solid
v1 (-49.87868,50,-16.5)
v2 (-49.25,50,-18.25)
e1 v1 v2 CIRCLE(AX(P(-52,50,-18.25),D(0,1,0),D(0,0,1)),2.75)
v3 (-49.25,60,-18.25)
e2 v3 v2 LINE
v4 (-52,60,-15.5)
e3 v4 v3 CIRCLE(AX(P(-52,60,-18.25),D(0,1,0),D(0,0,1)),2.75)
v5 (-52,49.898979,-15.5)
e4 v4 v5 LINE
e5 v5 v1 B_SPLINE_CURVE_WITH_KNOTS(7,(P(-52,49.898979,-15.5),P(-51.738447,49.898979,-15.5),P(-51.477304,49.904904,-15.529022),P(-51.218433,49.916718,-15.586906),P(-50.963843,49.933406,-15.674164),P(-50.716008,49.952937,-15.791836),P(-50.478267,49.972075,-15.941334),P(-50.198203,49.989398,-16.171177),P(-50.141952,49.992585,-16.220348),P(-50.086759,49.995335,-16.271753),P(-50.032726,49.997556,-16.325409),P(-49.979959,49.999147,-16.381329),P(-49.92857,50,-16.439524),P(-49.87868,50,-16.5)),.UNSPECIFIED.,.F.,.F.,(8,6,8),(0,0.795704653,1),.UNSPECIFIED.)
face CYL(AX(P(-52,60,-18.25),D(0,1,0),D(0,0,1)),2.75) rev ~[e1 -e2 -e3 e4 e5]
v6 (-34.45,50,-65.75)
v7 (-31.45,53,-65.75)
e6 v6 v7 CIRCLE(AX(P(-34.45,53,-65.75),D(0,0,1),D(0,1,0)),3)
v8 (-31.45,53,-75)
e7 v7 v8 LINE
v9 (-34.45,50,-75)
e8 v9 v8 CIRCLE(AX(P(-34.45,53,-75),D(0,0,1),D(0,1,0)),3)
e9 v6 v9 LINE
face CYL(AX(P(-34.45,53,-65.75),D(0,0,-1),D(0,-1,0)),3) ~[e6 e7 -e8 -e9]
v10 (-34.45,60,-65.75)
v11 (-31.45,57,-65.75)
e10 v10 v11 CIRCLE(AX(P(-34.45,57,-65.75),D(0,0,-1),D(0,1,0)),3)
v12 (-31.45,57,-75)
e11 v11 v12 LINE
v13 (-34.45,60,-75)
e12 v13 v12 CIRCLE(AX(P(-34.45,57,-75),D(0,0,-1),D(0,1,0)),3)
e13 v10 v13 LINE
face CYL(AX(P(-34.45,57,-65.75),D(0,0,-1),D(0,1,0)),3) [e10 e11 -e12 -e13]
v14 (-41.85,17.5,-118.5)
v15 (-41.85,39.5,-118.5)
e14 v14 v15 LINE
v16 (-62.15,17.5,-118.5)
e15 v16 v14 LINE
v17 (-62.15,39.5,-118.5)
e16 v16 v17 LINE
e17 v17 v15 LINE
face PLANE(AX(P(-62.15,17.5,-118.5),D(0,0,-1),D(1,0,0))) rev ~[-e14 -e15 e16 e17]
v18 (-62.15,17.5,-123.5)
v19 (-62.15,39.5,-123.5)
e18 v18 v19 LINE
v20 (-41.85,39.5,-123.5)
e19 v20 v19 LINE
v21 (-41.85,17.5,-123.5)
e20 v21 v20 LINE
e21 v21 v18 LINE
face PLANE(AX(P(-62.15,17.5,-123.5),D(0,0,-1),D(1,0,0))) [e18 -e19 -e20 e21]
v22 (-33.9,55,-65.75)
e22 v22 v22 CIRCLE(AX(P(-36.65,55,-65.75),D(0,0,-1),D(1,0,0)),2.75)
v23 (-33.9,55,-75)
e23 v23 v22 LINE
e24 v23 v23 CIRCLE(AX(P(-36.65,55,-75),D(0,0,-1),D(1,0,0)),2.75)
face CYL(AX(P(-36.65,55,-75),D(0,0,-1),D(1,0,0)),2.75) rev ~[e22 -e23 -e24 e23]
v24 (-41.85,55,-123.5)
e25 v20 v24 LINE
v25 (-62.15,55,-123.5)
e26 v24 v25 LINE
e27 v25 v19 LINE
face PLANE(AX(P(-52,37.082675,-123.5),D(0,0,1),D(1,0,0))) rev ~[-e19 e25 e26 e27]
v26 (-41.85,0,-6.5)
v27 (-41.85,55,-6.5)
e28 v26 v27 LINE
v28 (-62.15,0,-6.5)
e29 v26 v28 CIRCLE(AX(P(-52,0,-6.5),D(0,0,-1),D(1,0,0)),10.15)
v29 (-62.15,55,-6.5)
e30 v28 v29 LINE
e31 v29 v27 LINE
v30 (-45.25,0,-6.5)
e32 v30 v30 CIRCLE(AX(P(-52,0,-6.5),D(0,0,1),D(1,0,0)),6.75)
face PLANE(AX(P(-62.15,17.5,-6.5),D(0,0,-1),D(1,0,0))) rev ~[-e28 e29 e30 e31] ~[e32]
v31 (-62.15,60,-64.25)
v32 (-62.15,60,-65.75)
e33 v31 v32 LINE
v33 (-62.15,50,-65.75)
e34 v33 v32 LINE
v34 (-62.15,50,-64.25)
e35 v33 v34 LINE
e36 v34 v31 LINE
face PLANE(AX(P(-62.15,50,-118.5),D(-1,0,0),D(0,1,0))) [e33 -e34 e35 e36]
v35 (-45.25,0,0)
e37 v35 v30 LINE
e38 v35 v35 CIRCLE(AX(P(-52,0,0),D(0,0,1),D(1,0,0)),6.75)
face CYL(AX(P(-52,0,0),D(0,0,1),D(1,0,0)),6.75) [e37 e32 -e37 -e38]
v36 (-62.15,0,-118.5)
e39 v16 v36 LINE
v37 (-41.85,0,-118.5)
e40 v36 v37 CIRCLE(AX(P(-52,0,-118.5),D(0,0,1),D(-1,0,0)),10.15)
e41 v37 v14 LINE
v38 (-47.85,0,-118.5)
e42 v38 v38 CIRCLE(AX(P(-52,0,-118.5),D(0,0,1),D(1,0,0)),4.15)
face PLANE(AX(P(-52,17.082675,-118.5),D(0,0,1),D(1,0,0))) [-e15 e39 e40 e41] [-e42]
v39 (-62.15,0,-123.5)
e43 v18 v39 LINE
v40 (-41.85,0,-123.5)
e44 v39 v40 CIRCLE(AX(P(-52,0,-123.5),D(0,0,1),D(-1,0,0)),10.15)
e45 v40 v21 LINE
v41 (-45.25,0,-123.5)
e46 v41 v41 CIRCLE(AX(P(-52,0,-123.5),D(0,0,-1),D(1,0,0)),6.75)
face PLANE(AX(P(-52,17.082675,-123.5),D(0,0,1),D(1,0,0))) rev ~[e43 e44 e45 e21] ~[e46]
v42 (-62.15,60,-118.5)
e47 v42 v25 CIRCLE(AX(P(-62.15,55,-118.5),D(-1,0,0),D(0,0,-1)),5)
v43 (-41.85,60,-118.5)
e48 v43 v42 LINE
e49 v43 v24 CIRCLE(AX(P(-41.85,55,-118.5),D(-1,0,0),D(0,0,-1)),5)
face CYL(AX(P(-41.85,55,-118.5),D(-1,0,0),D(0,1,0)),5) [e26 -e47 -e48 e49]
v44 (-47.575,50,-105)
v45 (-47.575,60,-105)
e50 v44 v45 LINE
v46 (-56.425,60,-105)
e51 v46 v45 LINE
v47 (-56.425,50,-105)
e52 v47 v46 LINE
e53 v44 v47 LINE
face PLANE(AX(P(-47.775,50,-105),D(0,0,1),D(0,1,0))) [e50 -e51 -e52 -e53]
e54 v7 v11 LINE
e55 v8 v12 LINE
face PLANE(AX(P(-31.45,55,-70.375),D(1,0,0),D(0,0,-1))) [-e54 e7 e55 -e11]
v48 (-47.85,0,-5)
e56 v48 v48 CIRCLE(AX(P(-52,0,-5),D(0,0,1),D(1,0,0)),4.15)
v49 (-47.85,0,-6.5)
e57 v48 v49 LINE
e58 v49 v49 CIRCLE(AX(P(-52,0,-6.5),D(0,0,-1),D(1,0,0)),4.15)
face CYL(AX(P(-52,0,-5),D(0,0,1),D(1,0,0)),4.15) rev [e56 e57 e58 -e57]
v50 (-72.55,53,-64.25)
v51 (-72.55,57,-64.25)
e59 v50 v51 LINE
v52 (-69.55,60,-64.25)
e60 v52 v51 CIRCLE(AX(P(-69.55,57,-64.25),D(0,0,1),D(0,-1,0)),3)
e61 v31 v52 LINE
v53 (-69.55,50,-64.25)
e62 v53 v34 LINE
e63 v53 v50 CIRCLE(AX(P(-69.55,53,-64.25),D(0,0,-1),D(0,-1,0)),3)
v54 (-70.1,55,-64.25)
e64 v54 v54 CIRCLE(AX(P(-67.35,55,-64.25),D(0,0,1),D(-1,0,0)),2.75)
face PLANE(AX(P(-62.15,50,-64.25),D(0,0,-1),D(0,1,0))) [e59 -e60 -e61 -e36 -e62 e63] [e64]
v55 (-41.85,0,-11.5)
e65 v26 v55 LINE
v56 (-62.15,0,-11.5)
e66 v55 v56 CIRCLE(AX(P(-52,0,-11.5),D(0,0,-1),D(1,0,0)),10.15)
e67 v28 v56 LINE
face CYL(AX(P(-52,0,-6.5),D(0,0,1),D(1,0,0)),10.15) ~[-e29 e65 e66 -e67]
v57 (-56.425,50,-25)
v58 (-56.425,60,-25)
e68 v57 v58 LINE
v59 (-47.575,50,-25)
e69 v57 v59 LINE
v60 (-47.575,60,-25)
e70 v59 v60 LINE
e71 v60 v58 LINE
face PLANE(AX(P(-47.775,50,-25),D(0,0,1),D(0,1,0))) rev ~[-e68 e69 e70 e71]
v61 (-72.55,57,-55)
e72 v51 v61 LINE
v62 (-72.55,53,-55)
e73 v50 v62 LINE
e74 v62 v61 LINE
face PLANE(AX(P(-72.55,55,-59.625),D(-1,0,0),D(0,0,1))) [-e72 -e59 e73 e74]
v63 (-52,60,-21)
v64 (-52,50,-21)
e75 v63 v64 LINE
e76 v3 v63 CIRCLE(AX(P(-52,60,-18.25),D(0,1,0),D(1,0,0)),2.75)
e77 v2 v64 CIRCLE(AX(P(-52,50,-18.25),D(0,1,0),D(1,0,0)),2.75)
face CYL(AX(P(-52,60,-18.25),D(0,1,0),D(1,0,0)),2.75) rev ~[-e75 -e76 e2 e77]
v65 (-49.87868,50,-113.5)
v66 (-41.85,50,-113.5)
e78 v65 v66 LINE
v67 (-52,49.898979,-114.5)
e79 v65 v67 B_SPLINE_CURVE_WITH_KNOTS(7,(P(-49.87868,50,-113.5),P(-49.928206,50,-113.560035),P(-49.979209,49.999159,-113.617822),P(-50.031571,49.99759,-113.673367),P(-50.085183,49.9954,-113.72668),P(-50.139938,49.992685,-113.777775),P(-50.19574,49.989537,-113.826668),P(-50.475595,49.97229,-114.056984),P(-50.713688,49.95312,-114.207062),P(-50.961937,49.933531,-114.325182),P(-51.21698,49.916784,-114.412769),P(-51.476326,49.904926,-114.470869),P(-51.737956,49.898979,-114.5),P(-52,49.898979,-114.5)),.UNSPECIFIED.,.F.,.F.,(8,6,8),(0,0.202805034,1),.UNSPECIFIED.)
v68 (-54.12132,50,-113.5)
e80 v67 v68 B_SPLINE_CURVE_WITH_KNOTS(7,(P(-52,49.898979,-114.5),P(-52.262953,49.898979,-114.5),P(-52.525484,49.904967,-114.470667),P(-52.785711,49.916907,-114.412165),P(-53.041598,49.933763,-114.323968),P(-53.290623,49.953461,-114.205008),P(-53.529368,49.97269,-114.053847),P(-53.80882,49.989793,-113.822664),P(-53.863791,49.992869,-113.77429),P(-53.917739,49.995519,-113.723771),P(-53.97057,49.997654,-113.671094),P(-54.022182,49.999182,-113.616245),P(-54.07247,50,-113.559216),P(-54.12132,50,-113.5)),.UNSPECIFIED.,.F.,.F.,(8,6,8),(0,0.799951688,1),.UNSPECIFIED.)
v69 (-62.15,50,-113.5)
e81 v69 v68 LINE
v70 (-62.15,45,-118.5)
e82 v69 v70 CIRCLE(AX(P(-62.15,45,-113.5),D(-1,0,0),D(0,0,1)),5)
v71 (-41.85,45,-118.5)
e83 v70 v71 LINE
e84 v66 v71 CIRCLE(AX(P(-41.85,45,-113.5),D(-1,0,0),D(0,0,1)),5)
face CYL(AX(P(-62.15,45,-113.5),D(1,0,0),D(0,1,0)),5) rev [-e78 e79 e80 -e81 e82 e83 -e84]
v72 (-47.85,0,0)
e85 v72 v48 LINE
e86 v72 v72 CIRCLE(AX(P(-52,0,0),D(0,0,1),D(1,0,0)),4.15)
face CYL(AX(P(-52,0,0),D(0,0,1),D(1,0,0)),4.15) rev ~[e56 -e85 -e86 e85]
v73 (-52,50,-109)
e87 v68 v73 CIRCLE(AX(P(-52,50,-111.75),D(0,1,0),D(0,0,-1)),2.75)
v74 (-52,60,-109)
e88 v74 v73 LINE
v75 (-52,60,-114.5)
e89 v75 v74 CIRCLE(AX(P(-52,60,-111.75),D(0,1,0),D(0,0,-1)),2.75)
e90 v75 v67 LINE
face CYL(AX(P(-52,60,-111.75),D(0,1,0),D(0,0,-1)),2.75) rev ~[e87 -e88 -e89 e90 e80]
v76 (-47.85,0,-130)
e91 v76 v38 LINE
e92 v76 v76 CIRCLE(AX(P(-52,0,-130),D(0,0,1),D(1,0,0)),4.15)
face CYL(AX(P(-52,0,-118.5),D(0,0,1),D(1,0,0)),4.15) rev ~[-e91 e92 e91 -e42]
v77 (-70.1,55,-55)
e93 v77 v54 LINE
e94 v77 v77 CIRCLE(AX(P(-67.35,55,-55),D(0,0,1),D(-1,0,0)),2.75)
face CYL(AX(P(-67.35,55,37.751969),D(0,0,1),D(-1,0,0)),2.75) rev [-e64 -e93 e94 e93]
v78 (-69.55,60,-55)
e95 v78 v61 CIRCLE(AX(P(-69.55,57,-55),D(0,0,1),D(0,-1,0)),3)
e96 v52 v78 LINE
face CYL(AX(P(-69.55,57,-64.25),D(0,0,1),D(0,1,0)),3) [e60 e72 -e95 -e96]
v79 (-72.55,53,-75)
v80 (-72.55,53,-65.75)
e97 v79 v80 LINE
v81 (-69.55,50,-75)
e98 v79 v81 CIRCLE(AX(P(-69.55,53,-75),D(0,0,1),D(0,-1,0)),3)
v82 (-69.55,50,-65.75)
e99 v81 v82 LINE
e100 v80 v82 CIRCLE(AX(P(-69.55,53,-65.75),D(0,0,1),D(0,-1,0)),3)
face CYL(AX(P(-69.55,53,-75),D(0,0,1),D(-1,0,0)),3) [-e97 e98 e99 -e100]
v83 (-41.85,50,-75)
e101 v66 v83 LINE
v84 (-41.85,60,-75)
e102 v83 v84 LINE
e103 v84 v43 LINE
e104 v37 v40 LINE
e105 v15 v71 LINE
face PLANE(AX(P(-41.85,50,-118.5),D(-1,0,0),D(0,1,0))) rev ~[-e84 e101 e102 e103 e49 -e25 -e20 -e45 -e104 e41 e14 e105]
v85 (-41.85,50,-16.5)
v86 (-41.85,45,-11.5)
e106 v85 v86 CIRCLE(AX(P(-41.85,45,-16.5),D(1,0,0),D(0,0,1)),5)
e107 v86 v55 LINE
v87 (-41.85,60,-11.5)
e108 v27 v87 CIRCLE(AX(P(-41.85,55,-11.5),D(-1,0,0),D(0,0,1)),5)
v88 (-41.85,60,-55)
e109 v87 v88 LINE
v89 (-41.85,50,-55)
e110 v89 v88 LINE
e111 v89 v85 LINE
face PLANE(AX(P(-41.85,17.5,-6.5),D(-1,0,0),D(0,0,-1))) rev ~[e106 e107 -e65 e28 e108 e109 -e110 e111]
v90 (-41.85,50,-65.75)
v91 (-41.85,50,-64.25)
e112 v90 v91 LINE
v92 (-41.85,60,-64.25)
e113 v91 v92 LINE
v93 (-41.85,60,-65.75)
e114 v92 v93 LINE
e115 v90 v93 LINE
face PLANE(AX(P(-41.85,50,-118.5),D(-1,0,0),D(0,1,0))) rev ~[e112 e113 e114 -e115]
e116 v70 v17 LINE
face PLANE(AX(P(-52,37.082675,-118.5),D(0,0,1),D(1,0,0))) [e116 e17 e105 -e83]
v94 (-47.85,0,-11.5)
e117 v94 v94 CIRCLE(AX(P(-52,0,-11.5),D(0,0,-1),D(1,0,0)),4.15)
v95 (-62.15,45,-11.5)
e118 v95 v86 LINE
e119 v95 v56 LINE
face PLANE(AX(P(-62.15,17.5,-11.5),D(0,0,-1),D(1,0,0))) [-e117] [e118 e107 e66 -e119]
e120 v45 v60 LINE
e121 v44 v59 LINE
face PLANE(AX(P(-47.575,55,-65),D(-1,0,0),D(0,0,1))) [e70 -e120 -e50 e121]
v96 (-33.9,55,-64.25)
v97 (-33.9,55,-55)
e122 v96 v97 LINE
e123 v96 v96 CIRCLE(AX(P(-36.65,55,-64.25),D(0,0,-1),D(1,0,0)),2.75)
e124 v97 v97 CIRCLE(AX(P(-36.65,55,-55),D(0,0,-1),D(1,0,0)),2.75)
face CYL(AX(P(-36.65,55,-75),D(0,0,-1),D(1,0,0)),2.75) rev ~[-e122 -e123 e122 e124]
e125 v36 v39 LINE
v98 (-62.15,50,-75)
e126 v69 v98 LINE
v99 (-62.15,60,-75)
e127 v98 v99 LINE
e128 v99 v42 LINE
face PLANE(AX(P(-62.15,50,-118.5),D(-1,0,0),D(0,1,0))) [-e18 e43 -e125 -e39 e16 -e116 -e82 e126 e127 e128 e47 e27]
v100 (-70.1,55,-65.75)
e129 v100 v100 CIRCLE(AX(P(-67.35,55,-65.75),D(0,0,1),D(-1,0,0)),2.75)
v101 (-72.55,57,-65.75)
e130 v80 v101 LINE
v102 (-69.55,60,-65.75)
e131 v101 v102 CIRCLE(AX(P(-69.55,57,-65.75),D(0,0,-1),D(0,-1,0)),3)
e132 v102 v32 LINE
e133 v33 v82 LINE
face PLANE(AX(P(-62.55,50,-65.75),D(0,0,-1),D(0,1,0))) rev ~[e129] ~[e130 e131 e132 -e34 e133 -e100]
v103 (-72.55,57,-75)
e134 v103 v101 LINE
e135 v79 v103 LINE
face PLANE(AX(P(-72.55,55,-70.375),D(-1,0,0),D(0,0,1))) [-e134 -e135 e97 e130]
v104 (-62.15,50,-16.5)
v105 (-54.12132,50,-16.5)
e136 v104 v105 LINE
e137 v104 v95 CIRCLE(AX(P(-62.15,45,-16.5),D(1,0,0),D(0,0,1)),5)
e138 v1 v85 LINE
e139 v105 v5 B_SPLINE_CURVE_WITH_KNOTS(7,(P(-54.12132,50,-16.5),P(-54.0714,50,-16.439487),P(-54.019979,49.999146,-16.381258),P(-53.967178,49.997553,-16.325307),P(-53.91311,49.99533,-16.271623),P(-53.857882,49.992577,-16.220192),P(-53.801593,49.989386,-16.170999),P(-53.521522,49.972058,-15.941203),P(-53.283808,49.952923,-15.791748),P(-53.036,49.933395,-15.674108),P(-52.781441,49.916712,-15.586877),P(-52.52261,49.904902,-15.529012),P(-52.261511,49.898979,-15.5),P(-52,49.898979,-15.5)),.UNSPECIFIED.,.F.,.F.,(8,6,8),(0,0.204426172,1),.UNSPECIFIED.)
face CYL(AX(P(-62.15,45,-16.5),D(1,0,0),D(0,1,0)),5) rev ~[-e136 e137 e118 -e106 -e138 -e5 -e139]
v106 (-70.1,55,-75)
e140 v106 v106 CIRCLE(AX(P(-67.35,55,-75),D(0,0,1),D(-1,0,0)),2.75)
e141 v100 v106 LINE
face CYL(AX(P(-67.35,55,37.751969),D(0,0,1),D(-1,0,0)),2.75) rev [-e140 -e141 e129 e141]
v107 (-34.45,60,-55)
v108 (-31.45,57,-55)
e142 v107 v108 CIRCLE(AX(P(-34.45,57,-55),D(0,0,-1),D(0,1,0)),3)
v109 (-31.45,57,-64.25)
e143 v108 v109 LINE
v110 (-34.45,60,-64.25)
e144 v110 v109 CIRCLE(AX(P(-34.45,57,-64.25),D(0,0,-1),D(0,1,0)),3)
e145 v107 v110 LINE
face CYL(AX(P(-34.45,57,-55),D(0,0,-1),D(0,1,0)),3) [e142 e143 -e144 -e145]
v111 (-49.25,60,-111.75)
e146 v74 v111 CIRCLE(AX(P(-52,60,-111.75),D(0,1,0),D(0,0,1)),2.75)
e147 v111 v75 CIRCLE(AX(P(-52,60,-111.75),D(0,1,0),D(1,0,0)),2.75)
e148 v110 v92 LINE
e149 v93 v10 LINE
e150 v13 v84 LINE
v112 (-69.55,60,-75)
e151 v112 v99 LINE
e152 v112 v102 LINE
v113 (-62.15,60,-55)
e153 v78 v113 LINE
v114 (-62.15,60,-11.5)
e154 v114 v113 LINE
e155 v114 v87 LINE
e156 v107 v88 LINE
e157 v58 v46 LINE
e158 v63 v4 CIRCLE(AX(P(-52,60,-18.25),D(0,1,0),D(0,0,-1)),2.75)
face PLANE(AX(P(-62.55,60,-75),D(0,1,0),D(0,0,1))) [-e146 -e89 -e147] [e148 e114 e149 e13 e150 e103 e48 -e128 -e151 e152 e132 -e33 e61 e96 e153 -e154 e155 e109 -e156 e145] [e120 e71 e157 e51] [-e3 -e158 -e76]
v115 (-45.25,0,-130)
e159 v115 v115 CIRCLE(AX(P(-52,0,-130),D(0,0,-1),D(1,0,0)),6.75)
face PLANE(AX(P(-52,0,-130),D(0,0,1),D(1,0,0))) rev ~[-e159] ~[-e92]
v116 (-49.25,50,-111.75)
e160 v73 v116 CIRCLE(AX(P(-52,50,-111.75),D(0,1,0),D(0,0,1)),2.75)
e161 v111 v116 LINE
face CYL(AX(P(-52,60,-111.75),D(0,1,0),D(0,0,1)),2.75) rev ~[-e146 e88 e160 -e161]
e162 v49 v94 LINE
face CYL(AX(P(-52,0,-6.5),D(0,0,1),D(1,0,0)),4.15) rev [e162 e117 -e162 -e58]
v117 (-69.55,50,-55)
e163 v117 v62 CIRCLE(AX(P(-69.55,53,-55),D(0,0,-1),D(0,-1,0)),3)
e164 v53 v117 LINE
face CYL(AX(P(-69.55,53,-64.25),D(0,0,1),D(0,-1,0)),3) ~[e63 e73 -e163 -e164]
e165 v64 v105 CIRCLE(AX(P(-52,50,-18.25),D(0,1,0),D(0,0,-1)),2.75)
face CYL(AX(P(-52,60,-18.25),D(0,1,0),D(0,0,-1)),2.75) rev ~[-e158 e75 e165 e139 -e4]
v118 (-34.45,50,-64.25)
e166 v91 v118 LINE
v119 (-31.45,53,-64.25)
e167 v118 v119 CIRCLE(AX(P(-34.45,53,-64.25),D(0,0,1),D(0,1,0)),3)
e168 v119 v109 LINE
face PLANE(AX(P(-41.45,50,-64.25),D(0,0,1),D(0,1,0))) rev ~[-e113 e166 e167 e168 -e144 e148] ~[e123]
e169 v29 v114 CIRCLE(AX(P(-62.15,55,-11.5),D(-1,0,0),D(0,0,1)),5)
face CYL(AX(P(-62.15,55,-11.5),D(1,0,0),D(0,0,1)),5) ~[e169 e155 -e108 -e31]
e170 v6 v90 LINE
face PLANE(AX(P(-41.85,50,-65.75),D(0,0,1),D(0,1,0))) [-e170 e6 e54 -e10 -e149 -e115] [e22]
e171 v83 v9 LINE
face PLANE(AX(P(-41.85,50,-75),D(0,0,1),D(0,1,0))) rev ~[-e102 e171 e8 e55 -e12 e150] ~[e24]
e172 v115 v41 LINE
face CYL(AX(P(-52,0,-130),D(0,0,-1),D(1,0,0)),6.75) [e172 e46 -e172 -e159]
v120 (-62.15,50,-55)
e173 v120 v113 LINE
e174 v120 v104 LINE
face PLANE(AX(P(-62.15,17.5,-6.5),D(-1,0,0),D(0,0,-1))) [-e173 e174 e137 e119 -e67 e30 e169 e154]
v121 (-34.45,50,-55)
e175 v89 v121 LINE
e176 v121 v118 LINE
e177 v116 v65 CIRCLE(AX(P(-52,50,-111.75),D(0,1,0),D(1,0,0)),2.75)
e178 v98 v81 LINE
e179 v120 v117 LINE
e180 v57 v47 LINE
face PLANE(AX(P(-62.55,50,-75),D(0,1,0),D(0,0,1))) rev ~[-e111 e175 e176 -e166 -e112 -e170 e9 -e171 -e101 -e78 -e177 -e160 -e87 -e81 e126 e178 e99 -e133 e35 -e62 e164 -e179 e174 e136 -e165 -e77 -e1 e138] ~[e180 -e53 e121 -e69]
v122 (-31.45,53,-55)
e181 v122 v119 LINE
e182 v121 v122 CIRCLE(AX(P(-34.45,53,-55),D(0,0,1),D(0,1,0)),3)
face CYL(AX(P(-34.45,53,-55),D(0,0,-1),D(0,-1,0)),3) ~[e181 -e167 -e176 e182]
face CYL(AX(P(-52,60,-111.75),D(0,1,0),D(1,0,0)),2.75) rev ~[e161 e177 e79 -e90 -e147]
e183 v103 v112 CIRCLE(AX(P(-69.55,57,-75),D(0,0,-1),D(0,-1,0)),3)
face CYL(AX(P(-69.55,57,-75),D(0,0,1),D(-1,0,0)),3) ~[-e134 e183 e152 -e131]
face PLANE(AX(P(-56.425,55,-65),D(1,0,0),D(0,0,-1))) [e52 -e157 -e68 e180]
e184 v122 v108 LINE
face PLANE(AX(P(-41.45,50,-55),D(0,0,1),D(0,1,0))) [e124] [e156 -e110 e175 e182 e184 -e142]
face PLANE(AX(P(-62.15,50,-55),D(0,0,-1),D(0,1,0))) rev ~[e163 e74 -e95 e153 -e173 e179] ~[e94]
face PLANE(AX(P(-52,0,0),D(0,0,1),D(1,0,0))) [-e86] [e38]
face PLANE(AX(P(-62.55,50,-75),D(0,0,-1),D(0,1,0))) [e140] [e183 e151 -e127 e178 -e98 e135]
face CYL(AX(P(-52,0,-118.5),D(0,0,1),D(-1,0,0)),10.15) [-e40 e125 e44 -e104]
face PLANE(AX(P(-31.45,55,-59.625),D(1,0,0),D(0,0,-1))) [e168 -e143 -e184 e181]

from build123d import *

# Parameters (mm, degrees)
SKETCH1_R               = 7.15
SKETCH1_R_2             = 4.15
BOSS_EXTRUDE1_DEPTH     = 5
SKETCH2_R               = 7.15
SKETCH2_R_2             = 4.15
BOSS_EXTRUDE2_DEPTH     = 5
BOSS_EXTRUDE3_START     = 1.5
SKETCH3_R               = 7.15
SKETCH3_R_2             = 4.15
BOSS_EXTRUDE3_DEPTH     = 1.5
SKETCH4_R               = 7.15
SKETCH4_R_2             = 4.15
BOSS_EXTRUDE4_DEPTH     = 1.5
SKETCH5_R               = 7.15
SKETCH5_R_2             = 4.15
BOSS_EXTRUDE5_DEPTH     = 5
BOSS_EXTRUDE6_START     = 5
SKETCH6_R               = 4.15
BOSS_EXTRUDE6_DEPTH     = 5
SKETCH7_W               = 20.3
SKETCH7_H               = 10
BOSS_EXTRUDE7_DEPTH     = 107
SKETCH8_R               = 4.15
CUT_EXTRUDE1_DEPTH      = 153.570131415
FILLET1_R               = 5
CUT_EXTRUDE3_DEPTH      = 18.9
SKETCH11_R              = 7.15
SKETCH11_R_2            = 6.75
CUT_EXTRUDE4_DEPTH      = 6.5
SKETCH12_R              = 7.15
SKETCH12_R_2            = 6.75
CUT_EXTRUDE5_DEPTH      = 6.5
CUT_EXTRUDE6_DEPTH      = 18.9
SKETCH14_W              = 9.25
SKETCH14_H              = 10
BOSS_EXTRUDE8_DEPTH     = 0.4
SKETCH15_W              = 9.25
SKETCH15_H              = 10
BOSS_EXTRUDE9_DEPTH     = 0.4
SKETCH17_W              = 9.25
SKETCH17_H              = 10
BOSS_EXTRUDE10_DEPTH    = 10
CUT_EXTRUDE7_DEPTH      = 26
SKETCH20_W              = 9.25
SKETCH20_H              = 10
BOSS_EXTRUDE11_DEPTH    = 10
CUT_EXTRUDE8_DEPTH      = 112.751968699
CUT_EXTRUDE8_DEPTH_BACK = 112.751968699
FILLET2_R               = 3
SKETCH23_W              = 117
SKETCH23_H              = 2
CUT_EXTRUDE9_DEPTH      = 37
SKETCH24_W              = 20.3
SKETCH24_H              = 5
BOSS_EXTRUDE12_DEPTH    = 22
SKETCH25_W              = 80
SKETCH25_H              = 10
CUT_EXTRUDE10_DEPTH     = 0.2
SKETCH26_W              = 80
SKETCH26_H              = 10
CUT_EXTRUDE11_DEPTH     = 0.2


with BuildPart() as part:
    # Sketch1 → Boss-Extrude1 (new body)
    with BuildSketch(Plane.XY):
        with Locations((-52, 0)):
            Circle(SKETCH1_R)
        with Locations((-52, 0)):
            Circle(SKETCH1_R_2, mode=Mode.SUBTRACT)
    extrude(amount=-BOSS_EXTRUDE1_DEPTH)

    # Sketch4 → Boss-Extrude4 (add)
    with BuildSketch(Plane(origin=(0, 0, -5), x_dir=(-1, 0, 0), z_dir=(0, 0, -1))):
        with Locations(Location((52, 0, 0), (0, 0, 180))):
            Circle(SKETCH4_R)
        with Locations(Location((52, 0, 0), (0, 0, 180))):
            Circle(SKETCH4_R_2, mode=Mode.SUBTRACT)
    extrude(amount=BOSS_EXTRUDE4_DEPTH)

    # Sketch5 → Boss-Extrude5 (add)
    # profile 1 of 6: a face of its own
    with BuildSketch(Plane(origin=(0, 0, -6.5), x_dir=(-1, 0, 0), z_dir=(0, 0, -1))):
        with Locations(Location((52, 0, 0), (0, 0, 180))):
            Circle(SKETCH5_R)
        with Locations(Location((52, 0, 0), (0, 0, 180))):
            Circle(SKETCH5_R_2, mode=Mode.SUBTRACT)
    # profile 2 of 6: a face of its own
    with BuildSketch(Plane(origin=(0, 0, -6.5), x_dir=(-1, 0, 0), z_dir=(0, 0, -1))):
        with BuildLine():
            ThreePointArc((44.85, 0), (52, 7.15), (59.15, 0))
            Line((59.15, 0), (62.15, 0))
            ThreePointArc((62.15, 0), (52, 10.15), (41.85, 0))
            Line((41.85, 0), (44.85, 0))
        make_face()
    # profile 3 of 6: a face of its own
    with BuildSketch(Plane(origin=(0, 0, -6.5), x_dir=(-1, 0, 0), z_dir=(0, 0, -1))):
        with BuildLine():
            Line((62.15, 0), (59.15, 0))
            ThreePointArc((59.15, 0), (52, -7.15), (44.85, 0))
            Line((44.85, 0), (41.85, 0))
            ThreePointArc((41.85, 0), (52, -10.15), (62.15, 0))
        make_face()
    # profile 4 of 6: a face of its own
    with BuildSketch(Plane(origin=(0, 0, -6.5), x_dir=(-1, 0, 0), z_dir=(0, 0, -1))):
        with BuildLine():
            ThreePointArc((44.85, 0), (52, 7.15), (59.15, 0))
            Line((59.15, 0), (62.15, 0))
            ThreePointArc((62.15, 0), (52, 10.15), (41.85, 0))
            Line((41.85, 0), (44.85, 0))
        make_face()
    # profile 5 of 6: a face of its own
    with BuildSketch(Plane(origin=(0, 0, -6.5), x_dir=(-1, 0, 0), z_dir=(0, 0, -1))):
        with BuildLine():
            Line((62.15, 0), (59.15, 0))
            ThreePointArc((59.15, 0), (52, -7.15), (44.85, 0))
            Line((44.85, 0), (41.85, 0))
            ThreePointArc((41.85, 0), (52, -10.15), (62.15, 0))
        make_face()
    # profile 6 of 6: a face of its own
    with BuildSketch(Plane(origin=(0, 0, -6.5), x_dir=(-1, 0, 0), z_dir=(0, 0, -1))):
        with BuildLine():
            ThreePointArc((41.85, 0), (52, 10.15), (62.15, 0))
            Line((62.15, 0), (62.15, 40))
            Line((62.15, 40), (41.85, 40))
            Line((41.85, 40), (41.85, 0))
        make_face()
    extrude(amount=BOSS_EXTRUDE5_DEPTH)



with BuildPart() as body_2:
    # Sketch2 → Boss-Extrude2 (new body)
    with BuildSketch(Plane.XY.offset(-125)):
        with Locations((-52, 0)):
            Circle(SKETCH2_R)
        with Locations((-52, 0)):
            Circle(SKETCH2_R_2, mode=Mode.SUBTRACT)
    extrude(amount=-BOSS_EXTRUDE2_DEPTH)

    # Sketch3 → Boss-Extrude3 (add)
    with BuildSketch(Plane.XY.offset(-125).offset(BOSS_EXTRUDE3_START)):
        with Locations((-52, 0)):
            Circle(SKETCH3_R)
        with Locations((-52, 0)):
            Circle(SKETCH3_R_2, mode=Mode.SUBTRACT)
    extrude(amount=-BOSS_EXTRUDE3_DEPTH)

    # Sketch6 → Boss-Extrude6 (add)
    with BuildSketch(Plane.XY.offset(-123.5).offset(BOSS_EXTRUDE6_START)):
        with BuildLine():
            Line((-62.15, 40), (-62.15, 0))
            ThreePointArc((-62.15, 0), (-52, -10.15), (-41.85, 0))
            Line((-41.85, 0), (-41.85, 40))
            Line((-41.85, 40), (-62.15, 40))
        make_face()
        with Locations((-52, 0)):
            Circle(SKETCH6_R, mode=Mode.SUBTRACT)
    extrude(amount=-BOSS_EXTRUDE6_DEPTH)


with BuildPart() as part_1:
    add(part.part)

    add(body_2.part)  # Boss-Extrude7 merges body 2
    # Sketch7 → Boss-Extrude7 (add)
    with BuildSketch(Plane.XY.offset(-118.5)):
        with Locations((-52, 35)):
            Rectangle(SKETCH7_W, SKETCH7_H)
    extrude(amount=BOSS_EXTRUDE7_DEPTH)

    # Sketch8 → Cut-Extrude1 (cut, through all)
    with BuildSketch(Plane(origin=(0, 40, 0), x_dir=(1, 0, 0), z_dir=(0, 1, 0))):
        with Locations(Location((-52, 65, 0), (0, 0, 270))):
            Circle(SKETCH8_R)
    extrude(amount=-CUT_EXTRUDE1_DEPTH, mode=Mode.SUBTRACT)

    # Fillet1
    fillet1_edges = [part_1.edges().sort_by_distance(p)[0] for p in [
        (-52, 40, -6.5),
        (-52, 30, -11.5),
        (-52, 30, -118.5),
        (-52, 40, -123.5),
    ]]
    fillet(fillet1_edges, radius=FILLET1_R)

    # Sketch10 → Cut-Extrude3 (cut)
    with BuildSketch(Plane(origin=(0, 40, 0), x_dir=(1, 0, 0), z_dir=(0, 1, 0))):
        with BuildLine():
            Line((-56.225, 65), (-56.225, 25))
            Line((-56.225, 25), (-47.775, 25))
            Line((-47.775, 25), (-47.775, 65))
            ThreePointArc((-47.775, 65), (-52, 60.775), (-56.225, 65))
        make_face()
        with BuildLine():
            Line((-56.225, 105), (-56.225, 65))
            ThreePointArc((-56.225, 65), (-52, 69.225), (-47.775, 65))
            Line((-47.775, 65), (-47.775, 105))
            Line((-47.775, 105), (-56.225, 105))
        make_face()
    extrude(amount=-CUT_EXTRUDE3_DEPTH, mode=Mode.SUBTRACT)


with BuildPart() as cut_extrude3_kept_piece:
    # of the separate pieces the step leaves, the one the design keeps (cut_extrude3_pieces_kept)
    add(part_1.part.solids().sort_by_distance((-41.85, 35, -123.5))[0])

    # Sketch11 → Cut-Extrude4 (cut)
    with BuildSketch(Plane.XY):
        with Locations((-52, 0)):
            Circle(SKETCH11_R)
        with Locations((-52, 0)):
            Circle(SKETCH11_R_2, mode=Mode.SUBTRACT)
    extrude(amount=-CUT_EXTRUDE4_DEPTH, mode=Mode.SUBTRACT)

    # Sketch12 → Cut-Extrude5 (cut)
    with BuildSketch(Plane(origin=(0, 0, -130), x_dir=(-1, 0, 0), z_dir=(0, 0, -1))):
        with Locations((52, 0)):
            Circle(SKETCH12_R)
        with Locations(Location((52, 0, 0), (0, 0, 180))):
            Circle(SKETCH12_R_2, mode=Mode.SUBTRACT)
    extrude(amount=-CUT_EXTRUDE5_DEPTH, mode=Mode.SUBTRACT)

    # Sketch13 → Cut-Extrude6 (cut)
    with BuildSketch(Plane(origin=(0, 40, 0), x_dir=(1, 0, 0), z_dir=(0, 1, 0))):
        with BuildLine():
            ThreePointArc((-52, 21), (-54.75, 18.25), (-52, 15.5))
            Line((-52, 15.5), (-52, 21))
        make_face()
        with BuildLine():
            Line((-52, 21), (-52, 15.5))
            ThreePointArc((-52, 15.5), (-50.055456352, 16.305456352), (-49.25, 18.25))
            ThreePointArc((-49.25, 18.25), (-50.055456352, 20.194543648), (-52, 21))
        make_face()
        with BuildLine():
            ThreePointArc((-52, 114.5), (-54.75, 111.75), (-52, 109))
            Line((-52, 109), (-52, 114.5))
        make_face()
        with BuildLine():
            Line((-52, 114.5), (-52, 109))
            ThreePointArc((-52, 109), (-50.055456352, 109.805456352), (-49.25, 111.75))
            ThreePointArc((-49.25, 111.75), (-50.055456352, 113.694543648), (-52, 114.5))
        make_face()
    extrude(amount=-CUT_EXTRUDE6_DEPTH, mode=Mode.SUBTRACT)

    # Sketch14 → Boss-Extrude8 (add)
    with BuildSketch(Plane(origin=(-41.85, 0, 0), x_dir=(0, 0, -1), z_dir=(1, 0, 0))):
        with Locations((59.625, 35)):
            Rectangle(SKETCH14_W, SKETCH14_H)
        with Locations((70.375, 35)):
            Rectangle(SKETCH14_W, SKETCH14_H)
    extrude(amount=BOSS_EXTRUDE8_DEPTH)

    # Sketch15 → Boss-Extrude9 (add)
    with BuildSketch(Plane.ZY.offset(62.15)):
        with Locations((-59.625, 35)):
            Rectangle(SKETCH15_W, SKETCH15_H)
        with Locations((-70.375, 35)):
            Rectangle(SKETCH15_W, SKETCH15_H)
    extrude(amount=BOSS_EXTRUDE9_DEPTH)

    # Sketch17 → Boss-Extrude10 (add)
    with BuildSketch(Plane(origin=(-41.45, 0, 0), x_dir=(0, 0, -1), z_dir=(1, 0, 0))):
        with Locations((59.625, 35)):
            Rectangle(SKETCH17_W, SKETCH17_H)
        with Locations((70.375, 35)):
            Rectangle(SKETCH17_W, SKETCH17_H)
    extrude(amount=BOSS_EXTRUDE10_DEPTH)

    # Sketch18 → Cut-Extrude7 (cut)
    with BuildSketch(Plane(origin=(0, 0, -75), x_dir=(-1, 0, 0), z_dir=(0, 0, -1))):
        with BuildLine():
            ThreePointArc((39.4, 35), (36.65, 37.75), (33.9, 35))
            Line((33.9, 35), (39.4, 35))
        make_face()
        with BuildLine():
            Line((39.4, 35), (33.9, 35))
            ThreePointArc((33.9, 35), (36.65, 32.25), (39.4, 35))
        make_face()
    extrude(amount=-CUT_EXTRUDE7_DEPTH, mode=Mode.SUBTRACT)

    # Sketch20 → Boss-Extrude11 (add)
    with BuildSketch(Plane.ZY.offset(62.55)):
        with Locations((-70.375, 35)):
            Rectangle(SKETCH20_W, SKETCH20_H)
        with Locations((-59.625, 35)):
            Rectangle(SKETCH20_W, SKETCH20_H)
    extrude(amount=BOSS_EXTRUDE11_DEPTH)

    # Sketch21 → Cut-Extrude8 (cut, two sides: drawn at the far end of the back side and taken through both)
    with BuildSketch(Plane(origin=(0, 0, -75), x_dir=(-1, 0, 0), z_dir=(0, 0, -1)).offset(-CUT_EXTRUDE8_DEPTH_BACK)):
        with BuildLine():
            ThreePointArc((64.6, 35), (67.35, 32.25), (70.1, 35))
            Line((70.1, 35), (64.6, 35))
        make_face()
        with BuildLine():
            Line((64.6, 35), (70.1, 35))
            ThreePointArc((70.1, 35), (67.35, 37.75), (64.6, 35))
        make_face()
    extrude(amount=CUT_EXTRUDE8_DEPTH + CUT_EXTRUDE8_DEPTH_BACK, mode=Mode.SUBTRACT)

    # Fillet2
    fillet2_edges = [cut_extrude3_kept_piece.edges().sort_by_distance(p)[0] for p in [
        (-31.45, 40, -59.625),
        (-31.45, 30, -59.625),
        (-31.45, 30, -70.375),
        (-31.45, 40, -70.375),
        (-72.55, 30, -70.375),
        (-72.55, 40, -70.375),
        (-72.55, 40, -59.625),
        (-72.55, 30, -59.625),
    ]]
    fillet(fillet2_edges, radius=FILLET2_R)

    # Sketch23 → Cut-Extrude9 (cut)
    with BuildSketch(Plane(origin=(-41.85, 0, 0), x_dir=(0, 0, -1), z_dir=(1, 0, 0))):
        with Locations((65, 18.5)):
            Rectangle(SKETCH23_W, SKETCH23_H)
    extrude(amount=-CUT_EXTRUDE9_DEPTH, mode=Mode.SUBTRACT)


with BuildPart() as cut_extrude9_piece_1:
    # of the separate pieces the step leaves, piece 1, a body of its own (cut_extrude9_pieces)
    add(cut_extrude3_kept_piece.part.solids().sort_by_distance((-34.45, 30, -75))[0])


with BuildPart() as cut_extrude9_piece_2:
    # of the separate pieces the step leaves, piece 2, a body of its own (cut_extrude9_pieces)
    add(cut_extrude3_kept_piece.part.solids().sort_by_distance((-41.85, 0, -118.5))[0])


with BuildPart() as cut_extrude9_piece_3:
    # of the separate pieces the step leaves, piece 3, a body of its own (cut_extrude9_pieces)
    add(cut_extrude3_kept_piece.part.solids().sort_by_distance((-41.85, 17.5, -6.5))[0])


with BuildPart() as cut_extrude9_piece_1_1:
    # Body-Move/Copy1: moved
    add(cut_extrude9_piece_1.part.moved(Location((0, 20, 0))))


    add(cut_extrude9_piece_2.part)  # Boss-Extrude12 merges Cut-Extrude9 piece 2

    add(cut_extrude9_piece_3.part)  # Boss-Extrude12 merges Cut-Extrude9 piece 3
    # Sketch24 → Boss-Extrude12 (add)
    with BuildSketch(Plane(origin=(0, 17.5, 0), x_dir=(1, 0, 0), z_dir=(0, 1, 0))):
        with Locations((-52, 9)):
            Rectangle(SKETCH24_W, SKETCH24_H)
        with Locations((-52, 121)):
            Rectangle(SKETCH24_W, SKETCH24_H)
    extrude(amount=BOSS_EXTRUDE12_DEPTH)

    # Sketch25 → Cut-Extrude10 (cut)
    with BuildSketch(Plane(origin=(-56.225, 0, 0), x_dir=(0, 0, -1), z_dir=(1, 0, 0))):
        with Locations((65, 55)):
            Rectangle(SKETCH25_W, SKETCH25_H)
    extrude(amount=-CUT_EXTRUDE10_DEPTH, mode=Mode.SUBTRACT)

    # Sketch26 → Cut-Extrude11 (cut)
    with BuildSketch(Plane.ZY.offset(47.775)):
        with Locations((-65, 55)):
            Rectangle(SKETCH26_W, SKETCH26_H)
    extrude(amount=-CUT_EXTRUDE11_DEPTH, mode=Mode.SUBTRACT)


solid = cut_extrude9_piece_1_1.part
